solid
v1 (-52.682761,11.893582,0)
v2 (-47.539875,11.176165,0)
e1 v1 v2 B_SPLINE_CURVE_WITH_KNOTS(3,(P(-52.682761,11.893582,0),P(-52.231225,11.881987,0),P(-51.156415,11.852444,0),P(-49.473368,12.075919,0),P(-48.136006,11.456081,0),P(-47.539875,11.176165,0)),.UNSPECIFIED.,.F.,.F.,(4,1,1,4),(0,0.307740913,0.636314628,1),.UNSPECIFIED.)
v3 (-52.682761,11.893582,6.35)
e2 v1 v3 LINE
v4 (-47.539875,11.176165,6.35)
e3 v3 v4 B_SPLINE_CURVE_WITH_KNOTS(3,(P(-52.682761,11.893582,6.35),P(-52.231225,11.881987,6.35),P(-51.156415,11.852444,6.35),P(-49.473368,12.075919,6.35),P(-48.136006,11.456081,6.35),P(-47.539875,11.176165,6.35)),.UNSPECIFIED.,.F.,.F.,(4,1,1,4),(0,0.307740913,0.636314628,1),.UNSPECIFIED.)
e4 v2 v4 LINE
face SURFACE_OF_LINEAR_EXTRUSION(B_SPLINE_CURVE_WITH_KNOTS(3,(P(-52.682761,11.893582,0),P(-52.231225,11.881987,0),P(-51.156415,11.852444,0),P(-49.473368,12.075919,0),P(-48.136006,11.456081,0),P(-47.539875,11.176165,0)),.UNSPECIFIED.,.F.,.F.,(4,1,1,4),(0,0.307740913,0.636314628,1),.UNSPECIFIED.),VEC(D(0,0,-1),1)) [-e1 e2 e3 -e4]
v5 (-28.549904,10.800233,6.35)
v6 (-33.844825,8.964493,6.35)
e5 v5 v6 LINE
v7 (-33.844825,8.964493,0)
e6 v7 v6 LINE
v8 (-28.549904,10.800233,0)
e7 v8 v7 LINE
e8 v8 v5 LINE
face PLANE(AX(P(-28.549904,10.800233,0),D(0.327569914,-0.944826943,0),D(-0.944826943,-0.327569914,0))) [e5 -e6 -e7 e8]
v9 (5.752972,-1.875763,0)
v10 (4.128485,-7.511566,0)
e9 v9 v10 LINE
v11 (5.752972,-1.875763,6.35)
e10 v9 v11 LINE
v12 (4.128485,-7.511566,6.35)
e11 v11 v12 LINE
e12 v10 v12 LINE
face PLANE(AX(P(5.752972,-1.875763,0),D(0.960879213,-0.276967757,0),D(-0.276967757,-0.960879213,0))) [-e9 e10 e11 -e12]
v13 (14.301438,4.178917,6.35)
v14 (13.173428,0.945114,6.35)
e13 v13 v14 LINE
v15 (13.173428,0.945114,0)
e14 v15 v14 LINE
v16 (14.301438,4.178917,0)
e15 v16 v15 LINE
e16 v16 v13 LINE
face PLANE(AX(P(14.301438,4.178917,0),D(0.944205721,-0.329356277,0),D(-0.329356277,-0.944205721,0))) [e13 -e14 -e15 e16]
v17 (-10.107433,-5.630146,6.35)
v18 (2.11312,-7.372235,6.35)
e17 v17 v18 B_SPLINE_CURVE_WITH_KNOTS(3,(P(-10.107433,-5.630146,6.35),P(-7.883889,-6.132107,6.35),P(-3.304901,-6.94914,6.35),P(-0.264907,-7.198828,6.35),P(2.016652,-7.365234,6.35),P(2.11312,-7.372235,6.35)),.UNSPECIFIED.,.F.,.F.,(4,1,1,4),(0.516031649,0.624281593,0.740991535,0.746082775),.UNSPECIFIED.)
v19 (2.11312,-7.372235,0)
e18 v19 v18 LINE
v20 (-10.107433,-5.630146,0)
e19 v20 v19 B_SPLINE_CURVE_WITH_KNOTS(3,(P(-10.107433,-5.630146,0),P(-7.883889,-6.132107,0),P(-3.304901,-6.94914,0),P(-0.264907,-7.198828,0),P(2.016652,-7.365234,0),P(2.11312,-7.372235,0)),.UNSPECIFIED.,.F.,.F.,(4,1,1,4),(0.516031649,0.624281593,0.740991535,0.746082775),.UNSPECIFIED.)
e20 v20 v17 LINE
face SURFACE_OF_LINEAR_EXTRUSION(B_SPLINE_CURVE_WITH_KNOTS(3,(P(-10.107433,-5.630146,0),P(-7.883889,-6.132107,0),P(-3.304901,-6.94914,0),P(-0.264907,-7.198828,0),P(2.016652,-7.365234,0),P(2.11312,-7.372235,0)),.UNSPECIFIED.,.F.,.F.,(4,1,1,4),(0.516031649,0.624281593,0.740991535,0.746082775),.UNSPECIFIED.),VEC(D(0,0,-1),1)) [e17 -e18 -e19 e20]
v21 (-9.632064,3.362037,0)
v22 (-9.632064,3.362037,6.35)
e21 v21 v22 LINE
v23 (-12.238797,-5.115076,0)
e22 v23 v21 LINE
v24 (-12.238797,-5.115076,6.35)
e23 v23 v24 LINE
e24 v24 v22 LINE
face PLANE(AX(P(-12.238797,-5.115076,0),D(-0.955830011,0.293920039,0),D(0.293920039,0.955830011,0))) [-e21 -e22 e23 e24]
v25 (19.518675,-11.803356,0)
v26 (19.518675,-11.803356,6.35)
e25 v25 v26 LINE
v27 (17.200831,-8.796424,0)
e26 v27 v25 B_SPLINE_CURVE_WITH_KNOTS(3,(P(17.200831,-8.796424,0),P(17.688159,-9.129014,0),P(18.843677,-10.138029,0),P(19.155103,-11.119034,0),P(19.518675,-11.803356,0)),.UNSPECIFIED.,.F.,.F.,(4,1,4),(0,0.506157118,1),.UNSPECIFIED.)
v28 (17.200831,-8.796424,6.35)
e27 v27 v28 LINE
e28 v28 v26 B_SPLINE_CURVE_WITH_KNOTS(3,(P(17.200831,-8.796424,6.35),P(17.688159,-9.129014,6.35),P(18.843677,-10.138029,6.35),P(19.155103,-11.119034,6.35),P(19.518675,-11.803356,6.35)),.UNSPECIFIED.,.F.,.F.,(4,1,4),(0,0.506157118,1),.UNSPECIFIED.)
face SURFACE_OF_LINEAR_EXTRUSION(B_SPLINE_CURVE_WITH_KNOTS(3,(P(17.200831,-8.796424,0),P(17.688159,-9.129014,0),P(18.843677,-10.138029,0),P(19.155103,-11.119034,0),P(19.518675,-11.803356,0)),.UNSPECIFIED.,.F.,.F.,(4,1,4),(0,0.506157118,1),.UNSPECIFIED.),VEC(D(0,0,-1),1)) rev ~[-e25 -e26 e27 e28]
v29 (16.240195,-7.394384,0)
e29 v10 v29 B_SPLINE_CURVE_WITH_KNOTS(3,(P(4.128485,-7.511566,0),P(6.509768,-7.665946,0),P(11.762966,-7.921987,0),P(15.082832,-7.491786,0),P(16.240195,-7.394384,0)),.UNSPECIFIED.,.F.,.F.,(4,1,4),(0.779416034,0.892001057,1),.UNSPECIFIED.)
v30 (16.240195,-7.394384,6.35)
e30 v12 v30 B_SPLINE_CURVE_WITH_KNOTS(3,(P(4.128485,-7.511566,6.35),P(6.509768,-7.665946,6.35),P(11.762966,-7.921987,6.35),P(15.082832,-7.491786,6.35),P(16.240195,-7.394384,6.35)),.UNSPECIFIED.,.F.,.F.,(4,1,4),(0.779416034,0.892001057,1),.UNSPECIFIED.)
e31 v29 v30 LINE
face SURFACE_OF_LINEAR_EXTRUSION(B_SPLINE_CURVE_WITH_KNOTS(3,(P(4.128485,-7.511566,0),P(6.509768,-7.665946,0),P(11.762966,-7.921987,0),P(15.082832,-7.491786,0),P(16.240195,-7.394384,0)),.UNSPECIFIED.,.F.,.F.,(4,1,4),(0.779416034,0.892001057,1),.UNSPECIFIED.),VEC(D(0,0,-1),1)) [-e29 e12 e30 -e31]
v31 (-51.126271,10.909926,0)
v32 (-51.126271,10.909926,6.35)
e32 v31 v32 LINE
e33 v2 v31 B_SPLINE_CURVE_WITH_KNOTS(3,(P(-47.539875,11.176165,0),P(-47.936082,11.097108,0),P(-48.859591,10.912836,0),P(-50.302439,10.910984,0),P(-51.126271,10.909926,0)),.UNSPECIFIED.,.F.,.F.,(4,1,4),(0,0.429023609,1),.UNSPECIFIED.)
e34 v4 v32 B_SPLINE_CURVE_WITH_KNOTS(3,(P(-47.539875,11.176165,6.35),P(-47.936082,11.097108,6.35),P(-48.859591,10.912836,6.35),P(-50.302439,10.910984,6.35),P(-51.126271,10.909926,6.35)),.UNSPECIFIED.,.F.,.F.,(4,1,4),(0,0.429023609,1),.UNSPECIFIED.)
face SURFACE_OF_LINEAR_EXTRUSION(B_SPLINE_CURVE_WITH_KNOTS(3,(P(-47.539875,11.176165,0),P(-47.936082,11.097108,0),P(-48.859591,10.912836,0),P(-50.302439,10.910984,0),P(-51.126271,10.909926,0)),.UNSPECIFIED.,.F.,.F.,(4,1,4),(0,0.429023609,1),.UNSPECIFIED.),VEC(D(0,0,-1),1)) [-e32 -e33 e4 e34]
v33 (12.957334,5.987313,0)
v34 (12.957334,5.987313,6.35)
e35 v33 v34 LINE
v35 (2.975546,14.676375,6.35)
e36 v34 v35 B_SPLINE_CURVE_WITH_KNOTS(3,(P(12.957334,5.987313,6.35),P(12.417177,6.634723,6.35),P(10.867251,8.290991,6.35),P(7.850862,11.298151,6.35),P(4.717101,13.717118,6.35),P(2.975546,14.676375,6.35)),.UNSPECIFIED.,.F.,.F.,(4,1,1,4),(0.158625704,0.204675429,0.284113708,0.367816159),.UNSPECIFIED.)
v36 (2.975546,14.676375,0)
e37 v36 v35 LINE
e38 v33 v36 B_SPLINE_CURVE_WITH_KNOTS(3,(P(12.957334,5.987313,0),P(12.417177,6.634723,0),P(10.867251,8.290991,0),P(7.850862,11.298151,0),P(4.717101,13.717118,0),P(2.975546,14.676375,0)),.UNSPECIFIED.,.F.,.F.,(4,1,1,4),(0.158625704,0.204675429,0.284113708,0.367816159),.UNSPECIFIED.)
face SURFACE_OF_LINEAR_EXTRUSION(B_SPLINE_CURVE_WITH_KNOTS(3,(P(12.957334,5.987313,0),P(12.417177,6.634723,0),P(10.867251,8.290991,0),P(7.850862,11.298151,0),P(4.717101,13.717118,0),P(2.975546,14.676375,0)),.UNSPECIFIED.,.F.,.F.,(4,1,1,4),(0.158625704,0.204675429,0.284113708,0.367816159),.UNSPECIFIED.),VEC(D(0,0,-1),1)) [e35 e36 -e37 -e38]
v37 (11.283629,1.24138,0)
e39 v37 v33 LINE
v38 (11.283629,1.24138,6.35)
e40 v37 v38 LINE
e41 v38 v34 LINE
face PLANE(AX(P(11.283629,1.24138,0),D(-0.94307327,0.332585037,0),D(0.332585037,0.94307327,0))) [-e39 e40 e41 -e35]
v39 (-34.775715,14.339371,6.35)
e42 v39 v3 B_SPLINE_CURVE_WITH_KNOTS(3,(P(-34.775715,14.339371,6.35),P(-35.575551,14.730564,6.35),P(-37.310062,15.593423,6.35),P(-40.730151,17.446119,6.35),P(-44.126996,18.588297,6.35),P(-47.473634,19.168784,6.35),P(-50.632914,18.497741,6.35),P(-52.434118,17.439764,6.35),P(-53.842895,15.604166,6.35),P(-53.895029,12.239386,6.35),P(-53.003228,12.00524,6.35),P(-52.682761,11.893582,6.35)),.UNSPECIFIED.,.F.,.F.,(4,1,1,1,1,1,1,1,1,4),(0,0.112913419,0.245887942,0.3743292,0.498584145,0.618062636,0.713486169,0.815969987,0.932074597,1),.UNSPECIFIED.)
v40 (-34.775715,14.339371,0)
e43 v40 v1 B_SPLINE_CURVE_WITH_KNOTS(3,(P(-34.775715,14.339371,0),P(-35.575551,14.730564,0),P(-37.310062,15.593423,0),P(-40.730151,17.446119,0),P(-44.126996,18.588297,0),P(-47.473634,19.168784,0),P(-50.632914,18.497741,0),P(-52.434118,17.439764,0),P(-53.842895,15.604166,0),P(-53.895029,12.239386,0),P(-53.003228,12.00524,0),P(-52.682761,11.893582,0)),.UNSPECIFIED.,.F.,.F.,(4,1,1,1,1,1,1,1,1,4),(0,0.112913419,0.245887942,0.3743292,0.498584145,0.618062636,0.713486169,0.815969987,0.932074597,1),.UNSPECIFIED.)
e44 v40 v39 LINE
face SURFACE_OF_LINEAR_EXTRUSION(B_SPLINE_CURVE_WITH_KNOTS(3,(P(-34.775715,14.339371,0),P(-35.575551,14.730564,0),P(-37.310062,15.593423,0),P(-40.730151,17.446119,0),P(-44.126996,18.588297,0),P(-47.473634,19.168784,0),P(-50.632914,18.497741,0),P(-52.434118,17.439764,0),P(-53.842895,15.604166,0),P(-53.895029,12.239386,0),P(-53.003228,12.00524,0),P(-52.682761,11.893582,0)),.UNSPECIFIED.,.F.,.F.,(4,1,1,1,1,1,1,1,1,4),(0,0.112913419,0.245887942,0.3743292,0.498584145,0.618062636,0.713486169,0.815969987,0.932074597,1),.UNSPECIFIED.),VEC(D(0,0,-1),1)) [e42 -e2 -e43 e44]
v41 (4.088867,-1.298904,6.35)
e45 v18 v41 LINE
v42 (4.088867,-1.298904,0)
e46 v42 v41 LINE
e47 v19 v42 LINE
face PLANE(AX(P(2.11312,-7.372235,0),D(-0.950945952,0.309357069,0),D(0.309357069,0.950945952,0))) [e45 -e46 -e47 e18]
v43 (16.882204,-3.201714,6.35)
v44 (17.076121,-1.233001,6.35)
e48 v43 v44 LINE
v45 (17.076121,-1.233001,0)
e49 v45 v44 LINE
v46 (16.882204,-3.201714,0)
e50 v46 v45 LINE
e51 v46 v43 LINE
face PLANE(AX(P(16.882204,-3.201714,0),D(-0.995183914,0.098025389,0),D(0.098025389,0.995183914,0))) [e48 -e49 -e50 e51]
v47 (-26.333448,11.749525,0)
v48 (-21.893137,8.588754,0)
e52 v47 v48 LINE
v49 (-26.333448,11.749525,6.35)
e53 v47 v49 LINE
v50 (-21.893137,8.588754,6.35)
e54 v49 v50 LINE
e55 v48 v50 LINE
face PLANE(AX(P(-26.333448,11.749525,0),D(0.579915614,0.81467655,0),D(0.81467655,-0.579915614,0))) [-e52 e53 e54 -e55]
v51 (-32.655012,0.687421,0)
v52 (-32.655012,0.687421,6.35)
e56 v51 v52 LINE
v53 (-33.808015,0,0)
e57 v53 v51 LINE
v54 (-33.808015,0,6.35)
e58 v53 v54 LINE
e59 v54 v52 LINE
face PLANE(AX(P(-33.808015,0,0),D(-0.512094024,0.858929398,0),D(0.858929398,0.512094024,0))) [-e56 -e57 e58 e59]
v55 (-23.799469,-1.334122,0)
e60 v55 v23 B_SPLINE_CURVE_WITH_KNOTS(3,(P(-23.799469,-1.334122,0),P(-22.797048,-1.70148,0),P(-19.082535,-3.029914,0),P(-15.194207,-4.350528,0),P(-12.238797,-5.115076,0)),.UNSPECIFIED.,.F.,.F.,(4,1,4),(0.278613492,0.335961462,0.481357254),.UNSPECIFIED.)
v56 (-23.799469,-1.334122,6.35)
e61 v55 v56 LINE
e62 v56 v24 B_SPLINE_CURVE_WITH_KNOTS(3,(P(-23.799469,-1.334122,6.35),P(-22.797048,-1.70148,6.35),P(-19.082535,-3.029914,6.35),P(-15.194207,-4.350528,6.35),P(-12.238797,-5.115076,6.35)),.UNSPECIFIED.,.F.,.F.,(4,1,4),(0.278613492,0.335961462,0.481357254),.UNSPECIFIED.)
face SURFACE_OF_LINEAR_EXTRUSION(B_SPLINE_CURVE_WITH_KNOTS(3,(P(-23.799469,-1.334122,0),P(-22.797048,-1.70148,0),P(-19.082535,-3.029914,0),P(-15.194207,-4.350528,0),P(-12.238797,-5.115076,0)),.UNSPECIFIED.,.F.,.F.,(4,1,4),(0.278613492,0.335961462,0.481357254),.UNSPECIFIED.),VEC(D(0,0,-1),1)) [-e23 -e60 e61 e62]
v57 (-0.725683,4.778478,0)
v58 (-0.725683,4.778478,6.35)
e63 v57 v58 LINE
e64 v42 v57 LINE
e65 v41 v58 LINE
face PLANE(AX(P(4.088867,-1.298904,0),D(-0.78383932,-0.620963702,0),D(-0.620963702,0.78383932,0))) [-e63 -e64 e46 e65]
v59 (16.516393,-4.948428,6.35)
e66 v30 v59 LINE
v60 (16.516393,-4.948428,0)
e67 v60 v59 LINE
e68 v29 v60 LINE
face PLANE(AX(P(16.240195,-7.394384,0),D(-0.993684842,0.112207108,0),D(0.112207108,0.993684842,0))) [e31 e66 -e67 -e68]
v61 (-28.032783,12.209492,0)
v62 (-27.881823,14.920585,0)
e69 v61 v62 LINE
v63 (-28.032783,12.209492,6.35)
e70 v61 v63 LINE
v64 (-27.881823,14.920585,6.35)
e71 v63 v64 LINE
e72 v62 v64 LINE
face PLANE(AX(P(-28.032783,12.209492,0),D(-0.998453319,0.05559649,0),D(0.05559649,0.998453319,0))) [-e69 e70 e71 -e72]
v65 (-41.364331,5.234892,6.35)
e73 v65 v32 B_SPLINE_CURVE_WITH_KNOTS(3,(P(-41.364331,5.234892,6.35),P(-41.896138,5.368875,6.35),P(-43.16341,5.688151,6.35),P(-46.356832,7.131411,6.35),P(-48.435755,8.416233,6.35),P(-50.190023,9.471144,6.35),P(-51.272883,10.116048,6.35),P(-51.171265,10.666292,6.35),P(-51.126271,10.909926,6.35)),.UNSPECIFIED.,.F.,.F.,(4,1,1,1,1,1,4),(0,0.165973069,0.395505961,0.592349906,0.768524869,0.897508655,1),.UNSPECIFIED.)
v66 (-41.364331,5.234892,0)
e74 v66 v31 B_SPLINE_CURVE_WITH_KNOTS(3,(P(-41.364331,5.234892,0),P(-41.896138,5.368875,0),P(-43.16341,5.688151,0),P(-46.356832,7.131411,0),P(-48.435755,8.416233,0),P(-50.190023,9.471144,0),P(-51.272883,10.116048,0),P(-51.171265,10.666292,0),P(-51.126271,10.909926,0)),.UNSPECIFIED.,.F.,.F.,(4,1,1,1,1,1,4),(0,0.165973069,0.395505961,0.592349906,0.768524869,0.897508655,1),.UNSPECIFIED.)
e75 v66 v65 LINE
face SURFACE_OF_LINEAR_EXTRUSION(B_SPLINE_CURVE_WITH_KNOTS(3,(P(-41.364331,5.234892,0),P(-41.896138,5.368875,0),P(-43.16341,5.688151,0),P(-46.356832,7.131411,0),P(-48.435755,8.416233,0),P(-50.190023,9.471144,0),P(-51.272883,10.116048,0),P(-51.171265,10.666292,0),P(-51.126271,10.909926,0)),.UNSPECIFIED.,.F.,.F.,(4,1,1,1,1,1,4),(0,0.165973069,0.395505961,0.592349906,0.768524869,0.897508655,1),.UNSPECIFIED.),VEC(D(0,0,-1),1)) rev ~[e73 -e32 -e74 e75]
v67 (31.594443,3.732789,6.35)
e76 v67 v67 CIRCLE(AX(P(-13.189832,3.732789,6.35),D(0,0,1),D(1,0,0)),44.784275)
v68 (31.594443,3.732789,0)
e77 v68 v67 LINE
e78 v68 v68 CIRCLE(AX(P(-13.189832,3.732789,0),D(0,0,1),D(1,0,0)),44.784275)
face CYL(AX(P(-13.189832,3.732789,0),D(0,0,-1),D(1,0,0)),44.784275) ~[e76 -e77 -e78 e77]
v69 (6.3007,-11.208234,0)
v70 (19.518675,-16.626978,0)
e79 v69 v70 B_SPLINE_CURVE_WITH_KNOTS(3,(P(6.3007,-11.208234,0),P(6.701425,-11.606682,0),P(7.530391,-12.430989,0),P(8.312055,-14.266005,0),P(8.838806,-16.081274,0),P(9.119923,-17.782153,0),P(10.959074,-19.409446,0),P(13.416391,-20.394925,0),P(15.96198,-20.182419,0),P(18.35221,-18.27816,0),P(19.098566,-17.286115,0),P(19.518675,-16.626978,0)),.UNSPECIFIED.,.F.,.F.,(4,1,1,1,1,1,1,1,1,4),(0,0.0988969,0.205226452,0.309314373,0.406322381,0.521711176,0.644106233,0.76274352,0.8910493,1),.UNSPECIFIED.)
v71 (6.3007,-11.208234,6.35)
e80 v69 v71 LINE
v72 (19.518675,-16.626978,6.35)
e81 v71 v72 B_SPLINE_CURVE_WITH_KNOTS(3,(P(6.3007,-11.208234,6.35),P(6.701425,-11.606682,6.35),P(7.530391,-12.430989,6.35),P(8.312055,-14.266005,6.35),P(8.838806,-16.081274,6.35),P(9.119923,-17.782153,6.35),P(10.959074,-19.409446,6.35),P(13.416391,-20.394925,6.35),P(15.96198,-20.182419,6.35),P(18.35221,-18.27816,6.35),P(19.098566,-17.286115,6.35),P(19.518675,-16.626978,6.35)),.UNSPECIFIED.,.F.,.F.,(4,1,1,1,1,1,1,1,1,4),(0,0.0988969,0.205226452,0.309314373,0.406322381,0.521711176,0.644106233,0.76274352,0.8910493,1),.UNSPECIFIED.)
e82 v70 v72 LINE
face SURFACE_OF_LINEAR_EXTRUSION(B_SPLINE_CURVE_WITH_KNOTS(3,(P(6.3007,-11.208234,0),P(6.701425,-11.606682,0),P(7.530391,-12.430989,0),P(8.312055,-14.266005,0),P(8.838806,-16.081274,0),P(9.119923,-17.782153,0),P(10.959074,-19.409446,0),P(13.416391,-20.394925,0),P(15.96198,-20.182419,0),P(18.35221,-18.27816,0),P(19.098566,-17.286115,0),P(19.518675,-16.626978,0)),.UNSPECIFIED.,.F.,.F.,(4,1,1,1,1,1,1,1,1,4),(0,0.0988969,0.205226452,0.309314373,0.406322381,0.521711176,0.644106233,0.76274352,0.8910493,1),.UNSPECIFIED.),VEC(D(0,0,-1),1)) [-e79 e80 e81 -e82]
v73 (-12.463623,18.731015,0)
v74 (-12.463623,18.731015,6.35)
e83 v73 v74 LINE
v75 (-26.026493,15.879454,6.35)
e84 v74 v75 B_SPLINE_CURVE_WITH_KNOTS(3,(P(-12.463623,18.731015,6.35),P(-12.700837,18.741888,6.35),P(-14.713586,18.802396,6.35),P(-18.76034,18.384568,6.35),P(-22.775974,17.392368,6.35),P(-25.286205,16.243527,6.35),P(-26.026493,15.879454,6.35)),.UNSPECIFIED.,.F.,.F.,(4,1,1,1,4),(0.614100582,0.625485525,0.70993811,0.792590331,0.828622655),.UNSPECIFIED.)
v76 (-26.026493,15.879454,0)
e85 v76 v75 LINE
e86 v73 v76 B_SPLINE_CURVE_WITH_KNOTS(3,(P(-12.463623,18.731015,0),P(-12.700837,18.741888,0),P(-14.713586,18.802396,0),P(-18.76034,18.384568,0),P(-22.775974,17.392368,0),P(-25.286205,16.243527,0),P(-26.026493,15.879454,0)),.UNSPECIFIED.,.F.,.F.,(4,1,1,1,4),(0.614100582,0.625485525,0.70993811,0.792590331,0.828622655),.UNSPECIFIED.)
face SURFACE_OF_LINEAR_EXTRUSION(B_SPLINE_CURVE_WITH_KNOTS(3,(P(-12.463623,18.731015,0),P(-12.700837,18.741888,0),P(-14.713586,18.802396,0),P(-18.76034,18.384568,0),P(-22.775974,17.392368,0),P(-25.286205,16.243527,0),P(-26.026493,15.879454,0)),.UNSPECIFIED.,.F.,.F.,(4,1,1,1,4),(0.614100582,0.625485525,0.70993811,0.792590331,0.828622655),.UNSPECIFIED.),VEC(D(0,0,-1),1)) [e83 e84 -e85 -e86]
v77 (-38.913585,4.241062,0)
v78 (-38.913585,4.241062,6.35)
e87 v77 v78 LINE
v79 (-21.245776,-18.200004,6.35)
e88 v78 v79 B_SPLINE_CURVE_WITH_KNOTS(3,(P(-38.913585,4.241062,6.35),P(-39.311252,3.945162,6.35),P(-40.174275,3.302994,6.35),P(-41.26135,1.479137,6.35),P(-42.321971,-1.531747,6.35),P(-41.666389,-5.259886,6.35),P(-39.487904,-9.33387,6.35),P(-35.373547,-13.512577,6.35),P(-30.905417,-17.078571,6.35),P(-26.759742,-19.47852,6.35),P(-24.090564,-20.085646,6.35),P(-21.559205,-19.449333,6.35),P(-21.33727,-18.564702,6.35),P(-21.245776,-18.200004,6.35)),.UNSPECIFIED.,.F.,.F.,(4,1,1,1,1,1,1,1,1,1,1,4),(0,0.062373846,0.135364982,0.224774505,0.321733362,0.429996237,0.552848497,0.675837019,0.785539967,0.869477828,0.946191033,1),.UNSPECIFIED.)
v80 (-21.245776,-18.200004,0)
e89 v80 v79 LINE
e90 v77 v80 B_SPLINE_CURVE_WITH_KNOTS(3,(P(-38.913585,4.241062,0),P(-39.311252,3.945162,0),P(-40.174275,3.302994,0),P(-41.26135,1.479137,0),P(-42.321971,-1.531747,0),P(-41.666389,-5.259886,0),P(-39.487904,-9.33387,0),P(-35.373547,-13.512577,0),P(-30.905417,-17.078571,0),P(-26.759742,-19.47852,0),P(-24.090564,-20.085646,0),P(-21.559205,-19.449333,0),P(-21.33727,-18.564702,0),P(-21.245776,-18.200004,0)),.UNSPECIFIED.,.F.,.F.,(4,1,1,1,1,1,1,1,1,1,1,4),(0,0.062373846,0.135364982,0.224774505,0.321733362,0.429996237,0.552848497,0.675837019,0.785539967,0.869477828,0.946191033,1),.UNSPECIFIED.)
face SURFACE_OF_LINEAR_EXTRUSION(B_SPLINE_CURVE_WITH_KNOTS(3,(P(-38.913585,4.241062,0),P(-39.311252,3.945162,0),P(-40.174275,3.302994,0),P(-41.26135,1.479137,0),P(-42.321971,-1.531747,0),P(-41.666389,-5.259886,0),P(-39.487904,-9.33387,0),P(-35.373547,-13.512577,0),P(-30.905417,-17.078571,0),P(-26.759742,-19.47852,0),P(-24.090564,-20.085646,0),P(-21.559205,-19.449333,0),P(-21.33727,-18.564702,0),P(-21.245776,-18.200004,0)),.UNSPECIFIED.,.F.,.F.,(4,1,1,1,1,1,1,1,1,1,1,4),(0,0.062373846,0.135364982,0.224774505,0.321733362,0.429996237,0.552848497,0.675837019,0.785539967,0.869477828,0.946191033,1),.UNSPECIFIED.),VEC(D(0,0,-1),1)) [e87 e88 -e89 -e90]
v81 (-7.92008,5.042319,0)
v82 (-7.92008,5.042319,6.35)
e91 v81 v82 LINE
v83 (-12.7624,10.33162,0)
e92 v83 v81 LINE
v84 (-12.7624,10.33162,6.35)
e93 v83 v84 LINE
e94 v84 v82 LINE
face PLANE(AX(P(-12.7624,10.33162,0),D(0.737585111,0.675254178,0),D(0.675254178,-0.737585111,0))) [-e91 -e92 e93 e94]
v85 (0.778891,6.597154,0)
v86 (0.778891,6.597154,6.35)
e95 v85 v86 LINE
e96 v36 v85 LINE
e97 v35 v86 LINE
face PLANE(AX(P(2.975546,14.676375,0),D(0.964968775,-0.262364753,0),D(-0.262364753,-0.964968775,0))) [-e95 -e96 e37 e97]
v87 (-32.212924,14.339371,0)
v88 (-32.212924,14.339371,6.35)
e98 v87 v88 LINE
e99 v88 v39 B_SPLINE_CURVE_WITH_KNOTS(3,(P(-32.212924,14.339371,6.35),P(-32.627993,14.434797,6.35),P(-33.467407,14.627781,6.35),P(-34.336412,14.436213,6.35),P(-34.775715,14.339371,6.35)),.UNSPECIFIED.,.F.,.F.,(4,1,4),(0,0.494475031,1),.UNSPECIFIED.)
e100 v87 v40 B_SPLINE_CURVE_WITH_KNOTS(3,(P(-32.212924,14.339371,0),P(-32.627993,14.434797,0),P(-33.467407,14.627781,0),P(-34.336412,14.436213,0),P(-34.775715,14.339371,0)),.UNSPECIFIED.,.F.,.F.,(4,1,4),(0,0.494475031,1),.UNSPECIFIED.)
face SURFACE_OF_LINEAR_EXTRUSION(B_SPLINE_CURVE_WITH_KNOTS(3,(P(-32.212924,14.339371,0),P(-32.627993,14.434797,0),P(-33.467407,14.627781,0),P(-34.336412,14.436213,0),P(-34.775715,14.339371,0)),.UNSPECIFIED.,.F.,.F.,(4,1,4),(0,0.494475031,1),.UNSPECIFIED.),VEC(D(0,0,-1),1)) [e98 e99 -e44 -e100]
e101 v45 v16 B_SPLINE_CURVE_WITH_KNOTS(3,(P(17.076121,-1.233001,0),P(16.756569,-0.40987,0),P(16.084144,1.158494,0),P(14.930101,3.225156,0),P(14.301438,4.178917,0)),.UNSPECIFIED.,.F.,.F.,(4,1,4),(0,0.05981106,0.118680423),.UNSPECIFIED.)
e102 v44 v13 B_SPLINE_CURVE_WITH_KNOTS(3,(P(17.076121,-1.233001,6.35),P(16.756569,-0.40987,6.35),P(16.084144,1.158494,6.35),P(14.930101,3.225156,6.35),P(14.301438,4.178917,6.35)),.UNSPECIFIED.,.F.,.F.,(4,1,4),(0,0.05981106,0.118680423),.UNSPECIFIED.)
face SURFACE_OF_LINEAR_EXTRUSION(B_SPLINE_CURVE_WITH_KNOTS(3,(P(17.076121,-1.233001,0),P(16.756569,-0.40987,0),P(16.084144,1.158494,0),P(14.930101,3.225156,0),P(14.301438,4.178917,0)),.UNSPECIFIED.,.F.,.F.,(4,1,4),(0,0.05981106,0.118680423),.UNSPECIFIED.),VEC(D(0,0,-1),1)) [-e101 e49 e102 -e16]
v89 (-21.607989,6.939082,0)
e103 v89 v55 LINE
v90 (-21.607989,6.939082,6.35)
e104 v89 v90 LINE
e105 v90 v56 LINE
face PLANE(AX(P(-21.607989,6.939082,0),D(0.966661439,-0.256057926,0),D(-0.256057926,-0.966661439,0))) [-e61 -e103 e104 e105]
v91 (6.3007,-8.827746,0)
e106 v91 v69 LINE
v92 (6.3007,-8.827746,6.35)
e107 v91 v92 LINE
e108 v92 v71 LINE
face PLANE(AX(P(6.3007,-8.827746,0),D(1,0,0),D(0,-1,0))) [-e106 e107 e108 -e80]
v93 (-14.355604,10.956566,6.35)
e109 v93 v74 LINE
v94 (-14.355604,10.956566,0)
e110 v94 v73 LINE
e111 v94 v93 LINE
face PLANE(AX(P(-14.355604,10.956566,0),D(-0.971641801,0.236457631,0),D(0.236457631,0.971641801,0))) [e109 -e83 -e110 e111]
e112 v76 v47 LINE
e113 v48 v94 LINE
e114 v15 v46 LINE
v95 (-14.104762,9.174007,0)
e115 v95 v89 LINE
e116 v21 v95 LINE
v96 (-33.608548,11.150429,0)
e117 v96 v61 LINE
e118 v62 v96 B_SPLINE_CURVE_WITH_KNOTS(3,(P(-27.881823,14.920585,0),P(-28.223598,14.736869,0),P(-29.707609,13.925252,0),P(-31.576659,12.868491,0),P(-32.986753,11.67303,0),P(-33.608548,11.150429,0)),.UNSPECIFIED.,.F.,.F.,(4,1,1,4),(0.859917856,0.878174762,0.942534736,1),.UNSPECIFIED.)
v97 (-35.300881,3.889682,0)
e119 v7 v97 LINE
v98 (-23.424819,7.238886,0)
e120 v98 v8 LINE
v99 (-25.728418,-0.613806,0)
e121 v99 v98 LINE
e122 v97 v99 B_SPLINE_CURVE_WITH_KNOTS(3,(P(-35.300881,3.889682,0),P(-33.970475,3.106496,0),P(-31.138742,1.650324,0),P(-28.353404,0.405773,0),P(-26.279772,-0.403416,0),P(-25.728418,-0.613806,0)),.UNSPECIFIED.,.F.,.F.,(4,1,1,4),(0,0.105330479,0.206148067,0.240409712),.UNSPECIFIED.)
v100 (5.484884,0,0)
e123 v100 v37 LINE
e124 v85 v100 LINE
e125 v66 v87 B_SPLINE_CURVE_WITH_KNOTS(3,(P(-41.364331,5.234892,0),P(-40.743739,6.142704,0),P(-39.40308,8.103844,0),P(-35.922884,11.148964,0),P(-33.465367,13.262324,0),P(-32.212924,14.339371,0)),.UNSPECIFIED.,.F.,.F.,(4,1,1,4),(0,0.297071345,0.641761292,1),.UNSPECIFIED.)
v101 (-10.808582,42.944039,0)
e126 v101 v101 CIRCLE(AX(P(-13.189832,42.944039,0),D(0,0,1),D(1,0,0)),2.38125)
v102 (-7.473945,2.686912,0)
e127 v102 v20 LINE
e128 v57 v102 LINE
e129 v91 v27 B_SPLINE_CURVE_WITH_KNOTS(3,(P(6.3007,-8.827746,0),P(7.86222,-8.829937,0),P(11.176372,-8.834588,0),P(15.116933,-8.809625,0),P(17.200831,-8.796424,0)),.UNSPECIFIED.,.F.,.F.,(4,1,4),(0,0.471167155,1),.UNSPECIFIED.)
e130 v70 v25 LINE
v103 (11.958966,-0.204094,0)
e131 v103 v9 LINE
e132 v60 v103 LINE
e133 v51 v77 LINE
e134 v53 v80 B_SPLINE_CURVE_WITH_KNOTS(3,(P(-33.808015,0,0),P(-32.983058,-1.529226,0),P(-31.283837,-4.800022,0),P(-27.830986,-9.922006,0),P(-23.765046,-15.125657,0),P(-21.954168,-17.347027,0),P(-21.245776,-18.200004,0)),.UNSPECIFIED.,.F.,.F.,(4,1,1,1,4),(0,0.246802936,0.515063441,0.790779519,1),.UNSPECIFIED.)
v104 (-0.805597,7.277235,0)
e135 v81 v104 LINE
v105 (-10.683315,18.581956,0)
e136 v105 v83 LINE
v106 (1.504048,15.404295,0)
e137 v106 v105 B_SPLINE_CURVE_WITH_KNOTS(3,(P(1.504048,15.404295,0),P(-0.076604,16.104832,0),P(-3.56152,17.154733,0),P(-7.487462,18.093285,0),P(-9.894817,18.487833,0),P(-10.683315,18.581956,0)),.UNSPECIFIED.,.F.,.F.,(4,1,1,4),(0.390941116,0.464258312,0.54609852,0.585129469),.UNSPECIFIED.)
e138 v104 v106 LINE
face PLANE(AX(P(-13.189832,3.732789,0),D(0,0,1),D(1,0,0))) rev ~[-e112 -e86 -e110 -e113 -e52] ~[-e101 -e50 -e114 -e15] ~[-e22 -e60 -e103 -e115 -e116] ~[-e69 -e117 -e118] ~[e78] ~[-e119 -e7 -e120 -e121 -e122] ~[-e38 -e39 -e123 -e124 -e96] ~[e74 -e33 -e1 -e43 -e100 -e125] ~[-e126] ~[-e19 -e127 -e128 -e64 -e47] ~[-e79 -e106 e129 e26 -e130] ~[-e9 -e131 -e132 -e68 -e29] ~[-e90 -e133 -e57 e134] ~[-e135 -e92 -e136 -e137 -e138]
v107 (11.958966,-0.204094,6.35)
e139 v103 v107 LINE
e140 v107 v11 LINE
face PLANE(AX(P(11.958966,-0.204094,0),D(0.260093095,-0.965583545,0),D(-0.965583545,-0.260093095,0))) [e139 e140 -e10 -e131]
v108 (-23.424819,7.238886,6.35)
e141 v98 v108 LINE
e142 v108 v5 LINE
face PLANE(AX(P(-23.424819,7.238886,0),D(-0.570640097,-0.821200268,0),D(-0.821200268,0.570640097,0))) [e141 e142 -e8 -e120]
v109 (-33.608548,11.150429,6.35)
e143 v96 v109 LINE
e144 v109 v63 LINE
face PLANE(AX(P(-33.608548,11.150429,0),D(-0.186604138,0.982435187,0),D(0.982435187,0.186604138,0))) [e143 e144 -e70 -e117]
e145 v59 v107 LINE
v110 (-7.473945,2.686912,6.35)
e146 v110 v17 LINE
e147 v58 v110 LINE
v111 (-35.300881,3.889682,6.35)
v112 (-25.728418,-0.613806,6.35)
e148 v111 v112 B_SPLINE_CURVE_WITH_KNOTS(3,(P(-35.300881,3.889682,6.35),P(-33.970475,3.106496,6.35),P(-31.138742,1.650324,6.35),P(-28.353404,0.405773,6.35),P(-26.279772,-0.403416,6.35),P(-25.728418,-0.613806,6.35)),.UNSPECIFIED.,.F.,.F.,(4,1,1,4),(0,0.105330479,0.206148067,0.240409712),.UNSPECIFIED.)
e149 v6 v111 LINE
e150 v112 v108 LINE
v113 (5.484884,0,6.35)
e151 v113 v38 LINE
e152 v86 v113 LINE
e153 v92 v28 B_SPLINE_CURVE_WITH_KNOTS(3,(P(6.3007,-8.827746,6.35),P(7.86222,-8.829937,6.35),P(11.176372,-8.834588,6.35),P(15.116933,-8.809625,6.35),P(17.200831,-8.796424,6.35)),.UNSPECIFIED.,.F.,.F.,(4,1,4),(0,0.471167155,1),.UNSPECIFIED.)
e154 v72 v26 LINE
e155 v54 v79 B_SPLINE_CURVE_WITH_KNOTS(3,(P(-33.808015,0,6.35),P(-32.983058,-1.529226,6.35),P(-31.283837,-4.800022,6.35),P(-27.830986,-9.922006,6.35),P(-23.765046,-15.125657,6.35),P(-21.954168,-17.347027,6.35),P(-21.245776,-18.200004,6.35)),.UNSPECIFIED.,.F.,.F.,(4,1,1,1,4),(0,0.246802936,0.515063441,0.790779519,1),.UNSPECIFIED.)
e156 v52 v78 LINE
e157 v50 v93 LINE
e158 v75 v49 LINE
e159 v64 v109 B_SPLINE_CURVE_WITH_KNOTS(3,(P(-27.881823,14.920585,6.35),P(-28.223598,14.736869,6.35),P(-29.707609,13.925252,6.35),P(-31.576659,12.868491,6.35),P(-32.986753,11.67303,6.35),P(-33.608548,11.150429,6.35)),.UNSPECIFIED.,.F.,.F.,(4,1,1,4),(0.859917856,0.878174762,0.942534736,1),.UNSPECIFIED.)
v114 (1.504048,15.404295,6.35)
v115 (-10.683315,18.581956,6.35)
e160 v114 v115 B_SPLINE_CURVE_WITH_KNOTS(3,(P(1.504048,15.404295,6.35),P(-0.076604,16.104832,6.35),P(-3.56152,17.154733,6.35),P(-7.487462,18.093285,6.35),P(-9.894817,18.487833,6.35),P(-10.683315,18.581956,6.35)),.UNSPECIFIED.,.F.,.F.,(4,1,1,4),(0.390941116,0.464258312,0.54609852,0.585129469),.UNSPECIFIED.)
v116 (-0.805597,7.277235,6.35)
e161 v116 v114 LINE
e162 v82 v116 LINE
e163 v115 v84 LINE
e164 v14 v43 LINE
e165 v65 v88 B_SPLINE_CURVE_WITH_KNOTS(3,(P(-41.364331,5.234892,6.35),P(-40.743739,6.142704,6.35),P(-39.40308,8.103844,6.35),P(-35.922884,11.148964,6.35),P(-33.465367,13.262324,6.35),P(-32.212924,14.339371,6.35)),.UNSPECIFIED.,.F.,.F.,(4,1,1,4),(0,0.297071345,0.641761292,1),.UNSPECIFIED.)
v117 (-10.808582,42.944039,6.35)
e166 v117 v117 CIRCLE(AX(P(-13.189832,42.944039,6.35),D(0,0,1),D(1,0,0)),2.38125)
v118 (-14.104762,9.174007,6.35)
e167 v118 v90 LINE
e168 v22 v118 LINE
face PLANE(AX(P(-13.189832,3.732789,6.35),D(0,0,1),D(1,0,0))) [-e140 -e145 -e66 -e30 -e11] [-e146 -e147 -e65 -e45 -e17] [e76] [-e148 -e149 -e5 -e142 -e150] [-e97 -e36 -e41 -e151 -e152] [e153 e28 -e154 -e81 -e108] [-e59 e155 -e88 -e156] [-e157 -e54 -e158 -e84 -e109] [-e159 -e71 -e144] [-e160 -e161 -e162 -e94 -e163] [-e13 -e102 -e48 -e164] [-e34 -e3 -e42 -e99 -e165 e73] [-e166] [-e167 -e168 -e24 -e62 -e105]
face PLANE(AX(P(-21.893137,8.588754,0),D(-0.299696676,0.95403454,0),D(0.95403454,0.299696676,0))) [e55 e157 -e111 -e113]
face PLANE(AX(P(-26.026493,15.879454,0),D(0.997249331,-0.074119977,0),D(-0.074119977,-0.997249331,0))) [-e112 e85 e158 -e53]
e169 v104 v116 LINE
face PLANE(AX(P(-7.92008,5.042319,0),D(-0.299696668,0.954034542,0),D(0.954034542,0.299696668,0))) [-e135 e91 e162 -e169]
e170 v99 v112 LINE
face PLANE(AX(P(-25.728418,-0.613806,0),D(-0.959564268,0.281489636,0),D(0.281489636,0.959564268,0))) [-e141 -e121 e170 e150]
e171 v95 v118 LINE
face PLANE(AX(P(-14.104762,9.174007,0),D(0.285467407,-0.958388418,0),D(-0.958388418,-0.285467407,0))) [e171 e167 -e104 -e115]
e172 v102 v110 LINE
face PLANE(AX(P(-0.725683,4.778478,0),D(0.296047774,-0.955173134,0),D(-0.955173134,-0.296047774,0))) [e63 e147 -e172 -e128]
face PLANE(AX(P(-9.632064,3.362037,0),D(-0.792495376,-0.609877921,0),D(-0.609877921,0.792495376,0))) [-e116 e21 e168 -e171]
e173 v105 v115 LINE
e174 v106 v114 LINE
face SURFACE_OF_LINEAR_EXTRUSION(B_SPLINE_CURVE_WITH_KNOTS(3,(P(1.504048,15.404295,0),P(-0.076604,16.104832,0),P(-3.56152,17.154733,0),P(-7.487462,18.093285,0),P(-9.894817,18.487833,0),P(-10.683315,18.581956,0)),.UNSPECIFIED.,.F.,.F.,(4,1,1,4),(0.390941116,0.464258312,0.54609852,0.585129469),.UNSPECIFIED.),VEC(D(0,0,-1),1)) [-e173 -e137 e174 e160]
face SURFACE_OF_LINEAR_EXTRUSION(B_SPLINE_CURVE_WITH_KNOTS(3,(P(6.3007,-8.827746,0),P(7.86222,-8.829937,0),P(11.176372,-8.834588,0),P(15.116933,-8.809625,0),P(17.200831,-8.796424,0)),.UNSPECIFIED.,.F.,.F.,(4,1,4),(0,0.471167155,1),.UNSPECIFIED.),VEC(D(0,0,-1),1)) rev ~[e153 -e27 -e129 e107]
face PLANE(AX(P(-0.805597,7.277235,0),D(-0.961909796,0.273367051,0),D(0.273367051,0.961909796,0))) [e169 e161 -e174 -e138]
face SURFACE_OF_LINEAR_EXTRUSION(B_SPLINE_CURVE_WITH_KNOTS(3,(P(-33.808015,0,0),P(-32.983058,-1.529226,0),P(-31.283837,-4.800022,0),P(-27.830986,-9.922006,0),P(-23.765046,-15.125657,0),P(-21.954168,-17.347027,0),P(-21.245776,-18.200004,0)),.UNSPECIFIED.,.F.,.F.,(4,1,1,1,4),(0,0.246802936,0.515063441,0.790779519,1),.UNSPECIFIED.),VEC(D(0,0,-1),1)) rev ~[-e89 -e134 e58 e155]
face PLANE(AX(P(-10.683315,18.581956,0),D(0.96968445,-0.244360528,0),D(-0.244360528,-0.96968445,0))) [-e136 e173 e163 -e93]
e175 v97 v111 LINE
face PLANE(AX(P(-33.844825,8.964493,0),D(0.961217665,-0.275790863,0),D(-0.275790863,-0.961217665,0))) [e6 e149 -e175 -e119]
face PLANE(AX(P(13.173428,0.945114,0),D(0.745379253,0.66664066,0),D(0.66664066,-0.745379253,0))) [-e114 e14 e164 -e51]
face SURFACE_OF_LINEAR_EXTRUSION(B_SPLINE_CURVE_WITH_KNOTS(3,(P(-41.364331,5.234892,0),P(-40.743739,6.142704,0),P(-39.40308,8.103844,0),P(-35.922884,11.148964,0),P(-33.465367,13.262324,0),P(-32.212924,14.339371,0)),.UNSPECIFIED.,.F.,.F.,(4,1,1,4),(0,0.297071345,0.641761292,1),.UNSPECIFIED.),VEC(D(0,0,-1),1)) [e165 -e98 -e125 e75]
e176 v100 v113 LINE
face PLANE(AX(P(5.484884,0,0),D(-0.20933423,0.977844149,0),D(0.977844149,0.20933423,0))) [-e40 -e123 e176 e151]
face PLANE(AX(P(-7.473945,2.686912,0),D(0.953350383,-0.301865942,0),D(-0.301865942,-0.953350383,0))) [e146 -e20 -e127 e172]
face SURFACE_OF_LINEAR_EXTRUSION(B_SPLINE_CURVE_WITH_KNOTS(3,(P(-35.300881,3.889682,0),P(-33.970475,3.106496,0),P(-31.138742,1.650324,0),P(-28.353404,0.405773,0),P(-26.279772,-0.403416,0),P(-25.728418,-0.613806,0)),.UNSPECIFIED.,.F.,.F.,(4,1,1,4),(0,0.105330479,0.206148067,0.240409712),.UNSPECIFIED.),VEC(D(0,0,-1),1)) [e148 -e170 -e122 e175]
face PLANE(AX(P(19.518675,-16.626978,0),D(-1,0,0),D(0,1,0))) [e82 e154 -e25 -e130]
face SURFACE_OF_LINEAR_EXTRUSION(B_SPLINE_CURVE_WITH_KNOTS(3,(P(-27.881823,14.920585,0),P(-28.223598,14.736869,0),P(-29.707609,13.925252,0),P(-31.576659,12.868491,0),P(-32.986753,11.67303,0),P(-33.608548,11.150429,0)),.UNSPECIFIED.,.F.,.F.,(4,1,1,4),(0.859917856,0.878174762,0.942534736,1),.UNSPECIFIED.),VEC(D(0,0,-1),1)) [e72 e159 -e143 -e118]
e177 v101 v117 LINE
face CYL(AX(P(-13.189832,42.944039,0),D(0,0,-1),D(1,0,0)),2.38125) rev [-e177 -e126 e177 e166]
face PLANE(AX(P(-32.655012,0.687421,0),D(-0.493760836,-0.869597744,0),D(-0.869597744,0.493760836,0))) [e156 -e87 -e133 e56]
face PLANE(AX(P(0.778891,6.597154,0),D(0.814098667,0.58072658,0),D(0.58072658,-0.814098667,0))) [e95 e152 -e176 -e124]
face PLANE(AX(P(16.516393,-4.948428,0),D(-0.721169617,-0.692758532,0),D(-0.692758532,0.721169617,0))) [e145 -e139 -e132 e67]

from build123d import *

# Parameters (mm, degrees)
F1_R     = 44.7842748313
F1_R_2   = 2.38125
F2_DEPTH = 6.35
F3_DEPTH = 6.35


with BuildPart() as f2:
    # F1 (on Top) → F2 (new body)
    with BuildSketch(Plane.XY):
        with Locations((-13.1898317486, 3.732789075)):
            Circle(F1_R)
        with Locations((-13.1898317486, 42.944039075)):
            Circle(F1_R_2, mode=Mode.SUBTRACT)
    extrude(amount=F2_DEPTH)

    # F0 (on Top) → F3 (cut)
    with BuildSketch(Plane.XY):
        with BuildLine():
            add(Edge.make_bspline(
                [(-12.4636225999, 18.7310151137), (-12.700836517, 18.7418877894), (-14.7135863035, 18.8023957248), (-18.7603399294, 18.3845679597), (-22.775974145, 17.3923678376), (-25.2862051987, 16.2435268296), (-26.0264929384, 15.8794540912)],
                knots=[0.6141005824, 0.6141005824, 0.6141005824, 0.6141005824, 0.6254855246, 0.7099381095, 0.7925903309, 0.8286226548, 0.8286226548, 0.8286226548, 0.8286226548], degree=3))
            Line((-26.0264929384, 15.8794540912), (-26.3334475458, 11.7495246232))
            Line((-26.3334475458, 11.7495246232), (-21.893137177, 8.5887544849))
            Line((-21.893137177, 8.5887544849), (-14.3556036479, 10.9565657624))
            Line((-14.3556036479, 10.9565657624), (-12.4636225999, 18.7310151137))
        make_face()
        with BuildLine():
            add(Edge.make_bspline(
                [(17.0761212754, -1.2330010545), (16.7565687163, -0.4098702464), (16.0841440727, 1.1584941418), (14.9301006836, 3.2251558684), (14.3014379785, 4.1789165057)],
                knots=[0, 0, 0, 0, 0.0598110604, 0.1186804231, 0.1186804231, 0.1186804231, 0.1186804231], degree=3))
            Line((14.3014379785, 4.1789165057), (13.1734283641, 0.945114065))
            Line((13.1734283641, 0.945114065), (16.8822035193, -3.2017137855))
            Line((16.8822035193, -3.2017137855), (17.0761212754, -1.2330010545))
        make_face()
        with BuildLine():
            add(Edge.make_bspline(
                [(12.9573335188, 5.9873126243), (12.4171771372, 6.6347228027), (10.8672510982, 8.290991133), (7.8508623493, 11.2981513086), (4.7171014761, 13.7171177928), (2.9755457903, 14.6763748975)],
                knots=[0.1586257044, 0.1586257044, 0.1586257044, 0.1586257044, 0.2046754286, 0.2841137082, 0.3678161589, 0.3678161589, 0.3678161589, 0.3678161589], degree=3))
            Line((2.9755457903, 14.6763748975), (0.778891387, 6.5971535568))
            Line((0.778891387, 6.5971535568), (5.4848841392, 0))
            Line((5.4848841392, 0), (11.2836286426, 1.2413795339))
            Line((11.2836286426, 1.2413795339), (12.9573335188, 5.9873126243))
        make_face()
        with BuildLine():
            add(Edge.make_bspline(
                [(1.504048135, 15.4042947127), (-0.0766035801, 16.1048318034), (-3.5615202087, 17.1547327217), (-7.4874623555, 18.0932850112), (-9.89481672, 18.4878328234), (-10.683314516, 18.5819561221)],
                knots=[0.3909411161, 0.3909411161, 0.3909411161, 0.3909411161, 0.4642583123, 0.5460985201, 0.5851294693, 0.5851294693, 0.5851294693, 0.5851294693], degree=3))
            Line((-10.683314516, 18.5819561221), (-12.7623995619, 10.3316202048))
            Line((-12.7623995619, 10.3316202048), (-7.9200800361, 5.0423189286))
            Line((-7.9200800361, 5.0423189286), (-0.8055971672, 7.2772346657))
            Line((-0.8055971672, 7.2772346657), (1.504048135, 15.4042947127))
        make_face()
        with BuildLine():
            Line((-28.0327834189, 12.2094918042), (-27.881822642, 14.9205854165))
            add(Edge.make_bspline(
                [(-27.881822642, 14.9205854165), (-28.2235984259, 14.7368686239), (-29.707609051, 13.9252516802), (-31.5766590749, 12.8684910171), (-32.9867531182, 11.6730302258), (-33.608547909, 11.1504288348)],
                knots=[0.8599178563, 0.8599178563, 0.8599178563, 0.8599178563, 0.8781747617, 0.9425347357, 1, 1, 1, 1], degree=3))
            Line((-33.608547909, 11.1504288348), (-28.0327834189, 12.2094918042))
        make_face()
        with BuildLine():
            add(Edge.make_bspline(
                [(-35.3008805327, 3.8896822618), (-33.9704748288, 3.1064963082), (-31.1387424935, 1.6503241949), (-28.353403972, 0.4057732276), (-26.2797724128, -0.4034163963), (-25.728418345, -0.6138060248)],
                knots=[0, 0, 0, 0, 0.1053304793, 0.2061480666, 0.2404097116, 0.2404097116, 0.2404097116, 0.2404097116], degree=3))
            Line((-25.728418345, -0.6138060248), (-23.4248191118, 7.2388863191))
            Line((-23.4248191118, 7.2388863191), (-28.5499040037, 10.8002331108))
            Line((-28.5499040037, 10.8002331108), (-33.8448248804, 8.9644929394))
            Line((-33.8448248804, 8.9644929394), (-35.3008805327, 3.8896822618))
        make_face()
        with BuildLine():
            add(Edge.make_bspline(
                [(-23.7994689588, -1.334122404), (-22.7970479228, -1.7014796604), (-19.0825350613, -3.0299135458), (-15.1942067235, -4.3505276851), (-12.2387969281, -5.1150762315)],
                knots=[0.2786134922, 0.2786134922, 0.2786134922, 0.2786134922, 0.3359614616, 0.4813572535, 0.4813572535, 0.4813572535, 0.4813572535], degree=3))
            Line((-12.2387969281, -5.1150762315), (-9.6320642252, 3.3620366375))
            Line((-9.6320642252, 3.3620366375), (-14.1047621146, 9.1740069911))
            Line((-14.1047621146, 9.1740069911), (-21.6079887096, 6.9390815697))
            Line((-21.6079887096, 6.9390815697), (-23.7994689588, -1.334122404))
        make_face()
        with BuildLine():
            add(Edge.make_bspline(
                [(-10.1074330979, -5.6301461927), (-7.8838890977, -6.1321072555), (-3.3049014366, -6.9491400303), (-0.2649070352, -7.1988283349), (2.0166522907, -7.3652342676), (2.113120385, -7.3722353946)],
                knots=[0.516031649, 0.516031649, 0.516031649, 0.516031649, 0.6242815929, 0.7409915354, 0.7460827745, 0.7460827745, 0.7460827745, 0.7460827745], degree=3))
            Line((2.113120385, -7.3722353946), (4.0888668499, -1.2989036668))
            Line((4.0888668499, -1.2989036668), (-0.7256831978, 4.7784783483))
            Line((-0.7256831978, 4.7784783483), (-7.4739452921, 2.6869120148))
            Line((-7.4739452921, 2.6869120148), (-10.1074330979, -5.6301461927))
        make_face()
        with BuildLine():
            Line((5.7529720574, -1.8757634103), (4.1284853727, -7.5115655787))
            add(Edge.make_bspline(
                [(4.1284853727, -7.5115655787), (6.5097684242, -7.665945718), (11.7629659517, -7.9219873243), (15.0828316296, -7.4917859764), (16.24019522, -7.3943839049)],
                knots=[0.7794160343, 0.7794160343, 0.7794160343, 0.7794160343, 0.8920010571, 1, 1, 1, 1], degree=3))
            Line((16.24019522, -7.3943839049), (16.5163930506, -4.9484283663))
            Line((16.5163930506, -4.9484283663), (11.9589660317, -0.2040943073))
            Line((11.9589660317, -0.2040943073), (5.7529720574, -1.8757634103))
        make_face()
        with BuildLine():
            Line((-32.6550118625, 0.6874210667), (-38.9135852456, 4.2410623282))
            add(Edge.make_bspline(
                [(-38.9135852456, 4.2410623282), (-39.3112517031, 3.9451621348), (-40.1742754867, 3.3029935543), (-41.2613500364, 1.4791367195), (-42.321971058, -1.5317468472), (-41.6663887017, -5.2598861304), (-39.4879042834, -9.3338699432), (-35.3735468054, -13.5125766697), (-30.905416529, -17.0785709311), (-26.7597420463, -19.4785196652), (-24.0905644833, -20.0856459639), (-21.5592049478, -19.4493333003), (-21.3372703329, -18.5647019099), (-21.2457757443, -18.2000044733)],
                knots=[0, 0, 0, 0, 0.0623738462, 0.1353649817, 0.2247745052, 0.3217333621, 0.4299962373, 0.5528484965, 0.6758370187, 0.7855399675, 0.8694778278, 0.9461910326, 1, 1, 1, 1], degree=3))
            add(Edge.make_bspline(
                [(-33.8080152869, 0), (-32.9830579575, -1.529225689), (-31.283836878, -4.8000216074), (-27.8309857684, -9.9220057064), (-23.7650458822, -15.1256570893), (-21.9541675402, -17.3470273404), (-21.2457757443, -18.2000044733)],
                knots=[0, 0, 0, 0, 0.2468029362, 0.5150634413, 0.7907795189, 1, 1, 1, 1], degree=3))
            Line((-33.8080152869, 0), (-32.6550118625, 0.6874210667))
        make_face()
        with BuildLine():
            add(Edge.make_bspline(
                [(6.3007003628, -8.8277459145), (7.8622200727, -8.8299373726), (11.1763723681, -8.8345884992), (15.1169332851, -8.8096251255), (17.2008313239, -8.7964236736)],
                knots=[0, 0, 0, 0, 0.4711671555, 1, 1, 1, 1], degree=3))
            Line((6.3007003628, -8.8277459145), (6.3007003628, -11.2082343549))
            add(Edge.make_bspline(
                [(6.3007003628, -11.2082343549), (6.7014254454, -11.6066824346), (7.5303912132, -12.430989231), (8.312055252, -14.2660054753), (8.8388055864, -16.0812743842), (9.1199230788, -17.7821529484), (10.9590739375, -19.409445893), (13.4163914328, -20.3949251118), (15.9619796747, -20.1824186853), (18.3522101245, -18.2781604176), (19.0985659245, -17.2861146766), (19.5186752826, -16.6269782931)],
                knots=[0, 0, 0, 0, 0.0988968998, 0.205226452, 0.309314373, 0.4063223813, 0.5217111764, 0.6441062328, 0.76274352, 0.8910493003, 1, 1, 1, 1], degree=3))
            Line((19.5186752826, -16.6269782931), (19.5186752826, -11.8033559993))
            add(Edge.make_bspline(
                [(17.2008313239, -8.7964236736), (17.6881593659, -9.1290143111), (18.843677078, -10.1380285193), (19.1551034946, -11.1190344132), (19.5186752826, -11.8033559993)],
                knots=[0, 0, 0, 0, 0.5061571176, 1, 1, 1, 1], degree=3))
        make_face()
        with BuildLine():
            add(Edge.make_bspline(
                [(-41.3643307984, 5.2348920144), (-41.8961382705, 5.3688752267), (-43.1634102836, 5.6881508746), (-46.3568318469, 7.131410852), (-48.4357546764, 8.4162333897), (-50.1900228416, 9.471143643), (-51.2728830223, 10.1160479526), (-51.1712652645, 10.6662919797), (-51.1262714863, 10.9099261463)],
                knots=[0, 0, 0, 0, 0.1659730689, 0.3955059607, 0.5923499062, 0.7685248693, 0.8975086548, 1, 1, 1, 1], degree=3))
            add(Edge.make_bspline(
                [(-41.3643307984, 5.2348920144), (-40.743739466, 6.1427040293), (-39.4030800525, 8.1038444125), (-35.922884108, 11.1489637646), (-33.4653668396, 13.2623235425), (-32.2129242122, 14.339370653)],
                knots=[0, 0, 0, 0, 0.297071345, 0.6417612918, 1, 1, 1, 1], degree=3))
            add(Edge.make_bspline(
                [(-32.2129242122, 14.339370653), (-32.6279933844, 14.4347967242), (-33.4674072, 14.6277813345), (-34.3364117984, 14.4362131524), (-34.7757153213, 14.339370653)],
                knots=[0, 0, 0, 0, 0.4944750307, 1, 1, 1, 1], degree=3))
            add(Edge.make_bspline(
                [(-34.7757153213, 14.339370653), (-35.5755514931, 14.7305640489), (-37.3100615282, 15.5934233103), (-40.7301505565, 17.4461191305), (-44.1269962605, 18.5882966714), (-47.4736340278, 19.1687837987), (-50.632913896, 18.4977406021), (-52.4341181464, 17.4397636174), (-53.8428950663, 15.604166228), (-53.8950291683, 12.2393863425), (-53.0032276042, 12.0052395986), (-52.6827611029, 11.893581599)],
                knots=[0, 0, 0, 0, 0.1129134194, 0.2458879424, 0.3743292003, 0.4985841452, 0.6180626356, 0.713486169, 0.8159699873, 0.9320745971, 1, 1, 1, 1], degree=3))
            add(Edge.make_bspline(
                [(-52.6827611029, 11.893581599), (-52.2312250377, 11.8819870556), (-51.1564145101, 11.8524438825), (-49.4733675486, 12.0759187766), (-48.1360060292, 11.4560814996), (-47.5398749113, 11.1761651933)],
                knots=[0, 0, 0, 0, 0.3077409135, 0.6363146276, 1, 1, 1, 1], degree=3))
            add(Edge.make_bspline(
                [(-47.5398749113, 11.1761651933), (-47.9360821494, 11.0971082287), (-48.8595913218, 10.912836401), (-50.3024393349, 10.9109838877), (-51.1262714863, 10.9099261463)],
                knots=[0, 0, 0, 0, 0.4290236089, 1, 1, 1, 1], degree=3))
        make_face()
    extrude(amount=F3_DEPTH, mode=Mode.SUBTRACT)


solid = f2.part
